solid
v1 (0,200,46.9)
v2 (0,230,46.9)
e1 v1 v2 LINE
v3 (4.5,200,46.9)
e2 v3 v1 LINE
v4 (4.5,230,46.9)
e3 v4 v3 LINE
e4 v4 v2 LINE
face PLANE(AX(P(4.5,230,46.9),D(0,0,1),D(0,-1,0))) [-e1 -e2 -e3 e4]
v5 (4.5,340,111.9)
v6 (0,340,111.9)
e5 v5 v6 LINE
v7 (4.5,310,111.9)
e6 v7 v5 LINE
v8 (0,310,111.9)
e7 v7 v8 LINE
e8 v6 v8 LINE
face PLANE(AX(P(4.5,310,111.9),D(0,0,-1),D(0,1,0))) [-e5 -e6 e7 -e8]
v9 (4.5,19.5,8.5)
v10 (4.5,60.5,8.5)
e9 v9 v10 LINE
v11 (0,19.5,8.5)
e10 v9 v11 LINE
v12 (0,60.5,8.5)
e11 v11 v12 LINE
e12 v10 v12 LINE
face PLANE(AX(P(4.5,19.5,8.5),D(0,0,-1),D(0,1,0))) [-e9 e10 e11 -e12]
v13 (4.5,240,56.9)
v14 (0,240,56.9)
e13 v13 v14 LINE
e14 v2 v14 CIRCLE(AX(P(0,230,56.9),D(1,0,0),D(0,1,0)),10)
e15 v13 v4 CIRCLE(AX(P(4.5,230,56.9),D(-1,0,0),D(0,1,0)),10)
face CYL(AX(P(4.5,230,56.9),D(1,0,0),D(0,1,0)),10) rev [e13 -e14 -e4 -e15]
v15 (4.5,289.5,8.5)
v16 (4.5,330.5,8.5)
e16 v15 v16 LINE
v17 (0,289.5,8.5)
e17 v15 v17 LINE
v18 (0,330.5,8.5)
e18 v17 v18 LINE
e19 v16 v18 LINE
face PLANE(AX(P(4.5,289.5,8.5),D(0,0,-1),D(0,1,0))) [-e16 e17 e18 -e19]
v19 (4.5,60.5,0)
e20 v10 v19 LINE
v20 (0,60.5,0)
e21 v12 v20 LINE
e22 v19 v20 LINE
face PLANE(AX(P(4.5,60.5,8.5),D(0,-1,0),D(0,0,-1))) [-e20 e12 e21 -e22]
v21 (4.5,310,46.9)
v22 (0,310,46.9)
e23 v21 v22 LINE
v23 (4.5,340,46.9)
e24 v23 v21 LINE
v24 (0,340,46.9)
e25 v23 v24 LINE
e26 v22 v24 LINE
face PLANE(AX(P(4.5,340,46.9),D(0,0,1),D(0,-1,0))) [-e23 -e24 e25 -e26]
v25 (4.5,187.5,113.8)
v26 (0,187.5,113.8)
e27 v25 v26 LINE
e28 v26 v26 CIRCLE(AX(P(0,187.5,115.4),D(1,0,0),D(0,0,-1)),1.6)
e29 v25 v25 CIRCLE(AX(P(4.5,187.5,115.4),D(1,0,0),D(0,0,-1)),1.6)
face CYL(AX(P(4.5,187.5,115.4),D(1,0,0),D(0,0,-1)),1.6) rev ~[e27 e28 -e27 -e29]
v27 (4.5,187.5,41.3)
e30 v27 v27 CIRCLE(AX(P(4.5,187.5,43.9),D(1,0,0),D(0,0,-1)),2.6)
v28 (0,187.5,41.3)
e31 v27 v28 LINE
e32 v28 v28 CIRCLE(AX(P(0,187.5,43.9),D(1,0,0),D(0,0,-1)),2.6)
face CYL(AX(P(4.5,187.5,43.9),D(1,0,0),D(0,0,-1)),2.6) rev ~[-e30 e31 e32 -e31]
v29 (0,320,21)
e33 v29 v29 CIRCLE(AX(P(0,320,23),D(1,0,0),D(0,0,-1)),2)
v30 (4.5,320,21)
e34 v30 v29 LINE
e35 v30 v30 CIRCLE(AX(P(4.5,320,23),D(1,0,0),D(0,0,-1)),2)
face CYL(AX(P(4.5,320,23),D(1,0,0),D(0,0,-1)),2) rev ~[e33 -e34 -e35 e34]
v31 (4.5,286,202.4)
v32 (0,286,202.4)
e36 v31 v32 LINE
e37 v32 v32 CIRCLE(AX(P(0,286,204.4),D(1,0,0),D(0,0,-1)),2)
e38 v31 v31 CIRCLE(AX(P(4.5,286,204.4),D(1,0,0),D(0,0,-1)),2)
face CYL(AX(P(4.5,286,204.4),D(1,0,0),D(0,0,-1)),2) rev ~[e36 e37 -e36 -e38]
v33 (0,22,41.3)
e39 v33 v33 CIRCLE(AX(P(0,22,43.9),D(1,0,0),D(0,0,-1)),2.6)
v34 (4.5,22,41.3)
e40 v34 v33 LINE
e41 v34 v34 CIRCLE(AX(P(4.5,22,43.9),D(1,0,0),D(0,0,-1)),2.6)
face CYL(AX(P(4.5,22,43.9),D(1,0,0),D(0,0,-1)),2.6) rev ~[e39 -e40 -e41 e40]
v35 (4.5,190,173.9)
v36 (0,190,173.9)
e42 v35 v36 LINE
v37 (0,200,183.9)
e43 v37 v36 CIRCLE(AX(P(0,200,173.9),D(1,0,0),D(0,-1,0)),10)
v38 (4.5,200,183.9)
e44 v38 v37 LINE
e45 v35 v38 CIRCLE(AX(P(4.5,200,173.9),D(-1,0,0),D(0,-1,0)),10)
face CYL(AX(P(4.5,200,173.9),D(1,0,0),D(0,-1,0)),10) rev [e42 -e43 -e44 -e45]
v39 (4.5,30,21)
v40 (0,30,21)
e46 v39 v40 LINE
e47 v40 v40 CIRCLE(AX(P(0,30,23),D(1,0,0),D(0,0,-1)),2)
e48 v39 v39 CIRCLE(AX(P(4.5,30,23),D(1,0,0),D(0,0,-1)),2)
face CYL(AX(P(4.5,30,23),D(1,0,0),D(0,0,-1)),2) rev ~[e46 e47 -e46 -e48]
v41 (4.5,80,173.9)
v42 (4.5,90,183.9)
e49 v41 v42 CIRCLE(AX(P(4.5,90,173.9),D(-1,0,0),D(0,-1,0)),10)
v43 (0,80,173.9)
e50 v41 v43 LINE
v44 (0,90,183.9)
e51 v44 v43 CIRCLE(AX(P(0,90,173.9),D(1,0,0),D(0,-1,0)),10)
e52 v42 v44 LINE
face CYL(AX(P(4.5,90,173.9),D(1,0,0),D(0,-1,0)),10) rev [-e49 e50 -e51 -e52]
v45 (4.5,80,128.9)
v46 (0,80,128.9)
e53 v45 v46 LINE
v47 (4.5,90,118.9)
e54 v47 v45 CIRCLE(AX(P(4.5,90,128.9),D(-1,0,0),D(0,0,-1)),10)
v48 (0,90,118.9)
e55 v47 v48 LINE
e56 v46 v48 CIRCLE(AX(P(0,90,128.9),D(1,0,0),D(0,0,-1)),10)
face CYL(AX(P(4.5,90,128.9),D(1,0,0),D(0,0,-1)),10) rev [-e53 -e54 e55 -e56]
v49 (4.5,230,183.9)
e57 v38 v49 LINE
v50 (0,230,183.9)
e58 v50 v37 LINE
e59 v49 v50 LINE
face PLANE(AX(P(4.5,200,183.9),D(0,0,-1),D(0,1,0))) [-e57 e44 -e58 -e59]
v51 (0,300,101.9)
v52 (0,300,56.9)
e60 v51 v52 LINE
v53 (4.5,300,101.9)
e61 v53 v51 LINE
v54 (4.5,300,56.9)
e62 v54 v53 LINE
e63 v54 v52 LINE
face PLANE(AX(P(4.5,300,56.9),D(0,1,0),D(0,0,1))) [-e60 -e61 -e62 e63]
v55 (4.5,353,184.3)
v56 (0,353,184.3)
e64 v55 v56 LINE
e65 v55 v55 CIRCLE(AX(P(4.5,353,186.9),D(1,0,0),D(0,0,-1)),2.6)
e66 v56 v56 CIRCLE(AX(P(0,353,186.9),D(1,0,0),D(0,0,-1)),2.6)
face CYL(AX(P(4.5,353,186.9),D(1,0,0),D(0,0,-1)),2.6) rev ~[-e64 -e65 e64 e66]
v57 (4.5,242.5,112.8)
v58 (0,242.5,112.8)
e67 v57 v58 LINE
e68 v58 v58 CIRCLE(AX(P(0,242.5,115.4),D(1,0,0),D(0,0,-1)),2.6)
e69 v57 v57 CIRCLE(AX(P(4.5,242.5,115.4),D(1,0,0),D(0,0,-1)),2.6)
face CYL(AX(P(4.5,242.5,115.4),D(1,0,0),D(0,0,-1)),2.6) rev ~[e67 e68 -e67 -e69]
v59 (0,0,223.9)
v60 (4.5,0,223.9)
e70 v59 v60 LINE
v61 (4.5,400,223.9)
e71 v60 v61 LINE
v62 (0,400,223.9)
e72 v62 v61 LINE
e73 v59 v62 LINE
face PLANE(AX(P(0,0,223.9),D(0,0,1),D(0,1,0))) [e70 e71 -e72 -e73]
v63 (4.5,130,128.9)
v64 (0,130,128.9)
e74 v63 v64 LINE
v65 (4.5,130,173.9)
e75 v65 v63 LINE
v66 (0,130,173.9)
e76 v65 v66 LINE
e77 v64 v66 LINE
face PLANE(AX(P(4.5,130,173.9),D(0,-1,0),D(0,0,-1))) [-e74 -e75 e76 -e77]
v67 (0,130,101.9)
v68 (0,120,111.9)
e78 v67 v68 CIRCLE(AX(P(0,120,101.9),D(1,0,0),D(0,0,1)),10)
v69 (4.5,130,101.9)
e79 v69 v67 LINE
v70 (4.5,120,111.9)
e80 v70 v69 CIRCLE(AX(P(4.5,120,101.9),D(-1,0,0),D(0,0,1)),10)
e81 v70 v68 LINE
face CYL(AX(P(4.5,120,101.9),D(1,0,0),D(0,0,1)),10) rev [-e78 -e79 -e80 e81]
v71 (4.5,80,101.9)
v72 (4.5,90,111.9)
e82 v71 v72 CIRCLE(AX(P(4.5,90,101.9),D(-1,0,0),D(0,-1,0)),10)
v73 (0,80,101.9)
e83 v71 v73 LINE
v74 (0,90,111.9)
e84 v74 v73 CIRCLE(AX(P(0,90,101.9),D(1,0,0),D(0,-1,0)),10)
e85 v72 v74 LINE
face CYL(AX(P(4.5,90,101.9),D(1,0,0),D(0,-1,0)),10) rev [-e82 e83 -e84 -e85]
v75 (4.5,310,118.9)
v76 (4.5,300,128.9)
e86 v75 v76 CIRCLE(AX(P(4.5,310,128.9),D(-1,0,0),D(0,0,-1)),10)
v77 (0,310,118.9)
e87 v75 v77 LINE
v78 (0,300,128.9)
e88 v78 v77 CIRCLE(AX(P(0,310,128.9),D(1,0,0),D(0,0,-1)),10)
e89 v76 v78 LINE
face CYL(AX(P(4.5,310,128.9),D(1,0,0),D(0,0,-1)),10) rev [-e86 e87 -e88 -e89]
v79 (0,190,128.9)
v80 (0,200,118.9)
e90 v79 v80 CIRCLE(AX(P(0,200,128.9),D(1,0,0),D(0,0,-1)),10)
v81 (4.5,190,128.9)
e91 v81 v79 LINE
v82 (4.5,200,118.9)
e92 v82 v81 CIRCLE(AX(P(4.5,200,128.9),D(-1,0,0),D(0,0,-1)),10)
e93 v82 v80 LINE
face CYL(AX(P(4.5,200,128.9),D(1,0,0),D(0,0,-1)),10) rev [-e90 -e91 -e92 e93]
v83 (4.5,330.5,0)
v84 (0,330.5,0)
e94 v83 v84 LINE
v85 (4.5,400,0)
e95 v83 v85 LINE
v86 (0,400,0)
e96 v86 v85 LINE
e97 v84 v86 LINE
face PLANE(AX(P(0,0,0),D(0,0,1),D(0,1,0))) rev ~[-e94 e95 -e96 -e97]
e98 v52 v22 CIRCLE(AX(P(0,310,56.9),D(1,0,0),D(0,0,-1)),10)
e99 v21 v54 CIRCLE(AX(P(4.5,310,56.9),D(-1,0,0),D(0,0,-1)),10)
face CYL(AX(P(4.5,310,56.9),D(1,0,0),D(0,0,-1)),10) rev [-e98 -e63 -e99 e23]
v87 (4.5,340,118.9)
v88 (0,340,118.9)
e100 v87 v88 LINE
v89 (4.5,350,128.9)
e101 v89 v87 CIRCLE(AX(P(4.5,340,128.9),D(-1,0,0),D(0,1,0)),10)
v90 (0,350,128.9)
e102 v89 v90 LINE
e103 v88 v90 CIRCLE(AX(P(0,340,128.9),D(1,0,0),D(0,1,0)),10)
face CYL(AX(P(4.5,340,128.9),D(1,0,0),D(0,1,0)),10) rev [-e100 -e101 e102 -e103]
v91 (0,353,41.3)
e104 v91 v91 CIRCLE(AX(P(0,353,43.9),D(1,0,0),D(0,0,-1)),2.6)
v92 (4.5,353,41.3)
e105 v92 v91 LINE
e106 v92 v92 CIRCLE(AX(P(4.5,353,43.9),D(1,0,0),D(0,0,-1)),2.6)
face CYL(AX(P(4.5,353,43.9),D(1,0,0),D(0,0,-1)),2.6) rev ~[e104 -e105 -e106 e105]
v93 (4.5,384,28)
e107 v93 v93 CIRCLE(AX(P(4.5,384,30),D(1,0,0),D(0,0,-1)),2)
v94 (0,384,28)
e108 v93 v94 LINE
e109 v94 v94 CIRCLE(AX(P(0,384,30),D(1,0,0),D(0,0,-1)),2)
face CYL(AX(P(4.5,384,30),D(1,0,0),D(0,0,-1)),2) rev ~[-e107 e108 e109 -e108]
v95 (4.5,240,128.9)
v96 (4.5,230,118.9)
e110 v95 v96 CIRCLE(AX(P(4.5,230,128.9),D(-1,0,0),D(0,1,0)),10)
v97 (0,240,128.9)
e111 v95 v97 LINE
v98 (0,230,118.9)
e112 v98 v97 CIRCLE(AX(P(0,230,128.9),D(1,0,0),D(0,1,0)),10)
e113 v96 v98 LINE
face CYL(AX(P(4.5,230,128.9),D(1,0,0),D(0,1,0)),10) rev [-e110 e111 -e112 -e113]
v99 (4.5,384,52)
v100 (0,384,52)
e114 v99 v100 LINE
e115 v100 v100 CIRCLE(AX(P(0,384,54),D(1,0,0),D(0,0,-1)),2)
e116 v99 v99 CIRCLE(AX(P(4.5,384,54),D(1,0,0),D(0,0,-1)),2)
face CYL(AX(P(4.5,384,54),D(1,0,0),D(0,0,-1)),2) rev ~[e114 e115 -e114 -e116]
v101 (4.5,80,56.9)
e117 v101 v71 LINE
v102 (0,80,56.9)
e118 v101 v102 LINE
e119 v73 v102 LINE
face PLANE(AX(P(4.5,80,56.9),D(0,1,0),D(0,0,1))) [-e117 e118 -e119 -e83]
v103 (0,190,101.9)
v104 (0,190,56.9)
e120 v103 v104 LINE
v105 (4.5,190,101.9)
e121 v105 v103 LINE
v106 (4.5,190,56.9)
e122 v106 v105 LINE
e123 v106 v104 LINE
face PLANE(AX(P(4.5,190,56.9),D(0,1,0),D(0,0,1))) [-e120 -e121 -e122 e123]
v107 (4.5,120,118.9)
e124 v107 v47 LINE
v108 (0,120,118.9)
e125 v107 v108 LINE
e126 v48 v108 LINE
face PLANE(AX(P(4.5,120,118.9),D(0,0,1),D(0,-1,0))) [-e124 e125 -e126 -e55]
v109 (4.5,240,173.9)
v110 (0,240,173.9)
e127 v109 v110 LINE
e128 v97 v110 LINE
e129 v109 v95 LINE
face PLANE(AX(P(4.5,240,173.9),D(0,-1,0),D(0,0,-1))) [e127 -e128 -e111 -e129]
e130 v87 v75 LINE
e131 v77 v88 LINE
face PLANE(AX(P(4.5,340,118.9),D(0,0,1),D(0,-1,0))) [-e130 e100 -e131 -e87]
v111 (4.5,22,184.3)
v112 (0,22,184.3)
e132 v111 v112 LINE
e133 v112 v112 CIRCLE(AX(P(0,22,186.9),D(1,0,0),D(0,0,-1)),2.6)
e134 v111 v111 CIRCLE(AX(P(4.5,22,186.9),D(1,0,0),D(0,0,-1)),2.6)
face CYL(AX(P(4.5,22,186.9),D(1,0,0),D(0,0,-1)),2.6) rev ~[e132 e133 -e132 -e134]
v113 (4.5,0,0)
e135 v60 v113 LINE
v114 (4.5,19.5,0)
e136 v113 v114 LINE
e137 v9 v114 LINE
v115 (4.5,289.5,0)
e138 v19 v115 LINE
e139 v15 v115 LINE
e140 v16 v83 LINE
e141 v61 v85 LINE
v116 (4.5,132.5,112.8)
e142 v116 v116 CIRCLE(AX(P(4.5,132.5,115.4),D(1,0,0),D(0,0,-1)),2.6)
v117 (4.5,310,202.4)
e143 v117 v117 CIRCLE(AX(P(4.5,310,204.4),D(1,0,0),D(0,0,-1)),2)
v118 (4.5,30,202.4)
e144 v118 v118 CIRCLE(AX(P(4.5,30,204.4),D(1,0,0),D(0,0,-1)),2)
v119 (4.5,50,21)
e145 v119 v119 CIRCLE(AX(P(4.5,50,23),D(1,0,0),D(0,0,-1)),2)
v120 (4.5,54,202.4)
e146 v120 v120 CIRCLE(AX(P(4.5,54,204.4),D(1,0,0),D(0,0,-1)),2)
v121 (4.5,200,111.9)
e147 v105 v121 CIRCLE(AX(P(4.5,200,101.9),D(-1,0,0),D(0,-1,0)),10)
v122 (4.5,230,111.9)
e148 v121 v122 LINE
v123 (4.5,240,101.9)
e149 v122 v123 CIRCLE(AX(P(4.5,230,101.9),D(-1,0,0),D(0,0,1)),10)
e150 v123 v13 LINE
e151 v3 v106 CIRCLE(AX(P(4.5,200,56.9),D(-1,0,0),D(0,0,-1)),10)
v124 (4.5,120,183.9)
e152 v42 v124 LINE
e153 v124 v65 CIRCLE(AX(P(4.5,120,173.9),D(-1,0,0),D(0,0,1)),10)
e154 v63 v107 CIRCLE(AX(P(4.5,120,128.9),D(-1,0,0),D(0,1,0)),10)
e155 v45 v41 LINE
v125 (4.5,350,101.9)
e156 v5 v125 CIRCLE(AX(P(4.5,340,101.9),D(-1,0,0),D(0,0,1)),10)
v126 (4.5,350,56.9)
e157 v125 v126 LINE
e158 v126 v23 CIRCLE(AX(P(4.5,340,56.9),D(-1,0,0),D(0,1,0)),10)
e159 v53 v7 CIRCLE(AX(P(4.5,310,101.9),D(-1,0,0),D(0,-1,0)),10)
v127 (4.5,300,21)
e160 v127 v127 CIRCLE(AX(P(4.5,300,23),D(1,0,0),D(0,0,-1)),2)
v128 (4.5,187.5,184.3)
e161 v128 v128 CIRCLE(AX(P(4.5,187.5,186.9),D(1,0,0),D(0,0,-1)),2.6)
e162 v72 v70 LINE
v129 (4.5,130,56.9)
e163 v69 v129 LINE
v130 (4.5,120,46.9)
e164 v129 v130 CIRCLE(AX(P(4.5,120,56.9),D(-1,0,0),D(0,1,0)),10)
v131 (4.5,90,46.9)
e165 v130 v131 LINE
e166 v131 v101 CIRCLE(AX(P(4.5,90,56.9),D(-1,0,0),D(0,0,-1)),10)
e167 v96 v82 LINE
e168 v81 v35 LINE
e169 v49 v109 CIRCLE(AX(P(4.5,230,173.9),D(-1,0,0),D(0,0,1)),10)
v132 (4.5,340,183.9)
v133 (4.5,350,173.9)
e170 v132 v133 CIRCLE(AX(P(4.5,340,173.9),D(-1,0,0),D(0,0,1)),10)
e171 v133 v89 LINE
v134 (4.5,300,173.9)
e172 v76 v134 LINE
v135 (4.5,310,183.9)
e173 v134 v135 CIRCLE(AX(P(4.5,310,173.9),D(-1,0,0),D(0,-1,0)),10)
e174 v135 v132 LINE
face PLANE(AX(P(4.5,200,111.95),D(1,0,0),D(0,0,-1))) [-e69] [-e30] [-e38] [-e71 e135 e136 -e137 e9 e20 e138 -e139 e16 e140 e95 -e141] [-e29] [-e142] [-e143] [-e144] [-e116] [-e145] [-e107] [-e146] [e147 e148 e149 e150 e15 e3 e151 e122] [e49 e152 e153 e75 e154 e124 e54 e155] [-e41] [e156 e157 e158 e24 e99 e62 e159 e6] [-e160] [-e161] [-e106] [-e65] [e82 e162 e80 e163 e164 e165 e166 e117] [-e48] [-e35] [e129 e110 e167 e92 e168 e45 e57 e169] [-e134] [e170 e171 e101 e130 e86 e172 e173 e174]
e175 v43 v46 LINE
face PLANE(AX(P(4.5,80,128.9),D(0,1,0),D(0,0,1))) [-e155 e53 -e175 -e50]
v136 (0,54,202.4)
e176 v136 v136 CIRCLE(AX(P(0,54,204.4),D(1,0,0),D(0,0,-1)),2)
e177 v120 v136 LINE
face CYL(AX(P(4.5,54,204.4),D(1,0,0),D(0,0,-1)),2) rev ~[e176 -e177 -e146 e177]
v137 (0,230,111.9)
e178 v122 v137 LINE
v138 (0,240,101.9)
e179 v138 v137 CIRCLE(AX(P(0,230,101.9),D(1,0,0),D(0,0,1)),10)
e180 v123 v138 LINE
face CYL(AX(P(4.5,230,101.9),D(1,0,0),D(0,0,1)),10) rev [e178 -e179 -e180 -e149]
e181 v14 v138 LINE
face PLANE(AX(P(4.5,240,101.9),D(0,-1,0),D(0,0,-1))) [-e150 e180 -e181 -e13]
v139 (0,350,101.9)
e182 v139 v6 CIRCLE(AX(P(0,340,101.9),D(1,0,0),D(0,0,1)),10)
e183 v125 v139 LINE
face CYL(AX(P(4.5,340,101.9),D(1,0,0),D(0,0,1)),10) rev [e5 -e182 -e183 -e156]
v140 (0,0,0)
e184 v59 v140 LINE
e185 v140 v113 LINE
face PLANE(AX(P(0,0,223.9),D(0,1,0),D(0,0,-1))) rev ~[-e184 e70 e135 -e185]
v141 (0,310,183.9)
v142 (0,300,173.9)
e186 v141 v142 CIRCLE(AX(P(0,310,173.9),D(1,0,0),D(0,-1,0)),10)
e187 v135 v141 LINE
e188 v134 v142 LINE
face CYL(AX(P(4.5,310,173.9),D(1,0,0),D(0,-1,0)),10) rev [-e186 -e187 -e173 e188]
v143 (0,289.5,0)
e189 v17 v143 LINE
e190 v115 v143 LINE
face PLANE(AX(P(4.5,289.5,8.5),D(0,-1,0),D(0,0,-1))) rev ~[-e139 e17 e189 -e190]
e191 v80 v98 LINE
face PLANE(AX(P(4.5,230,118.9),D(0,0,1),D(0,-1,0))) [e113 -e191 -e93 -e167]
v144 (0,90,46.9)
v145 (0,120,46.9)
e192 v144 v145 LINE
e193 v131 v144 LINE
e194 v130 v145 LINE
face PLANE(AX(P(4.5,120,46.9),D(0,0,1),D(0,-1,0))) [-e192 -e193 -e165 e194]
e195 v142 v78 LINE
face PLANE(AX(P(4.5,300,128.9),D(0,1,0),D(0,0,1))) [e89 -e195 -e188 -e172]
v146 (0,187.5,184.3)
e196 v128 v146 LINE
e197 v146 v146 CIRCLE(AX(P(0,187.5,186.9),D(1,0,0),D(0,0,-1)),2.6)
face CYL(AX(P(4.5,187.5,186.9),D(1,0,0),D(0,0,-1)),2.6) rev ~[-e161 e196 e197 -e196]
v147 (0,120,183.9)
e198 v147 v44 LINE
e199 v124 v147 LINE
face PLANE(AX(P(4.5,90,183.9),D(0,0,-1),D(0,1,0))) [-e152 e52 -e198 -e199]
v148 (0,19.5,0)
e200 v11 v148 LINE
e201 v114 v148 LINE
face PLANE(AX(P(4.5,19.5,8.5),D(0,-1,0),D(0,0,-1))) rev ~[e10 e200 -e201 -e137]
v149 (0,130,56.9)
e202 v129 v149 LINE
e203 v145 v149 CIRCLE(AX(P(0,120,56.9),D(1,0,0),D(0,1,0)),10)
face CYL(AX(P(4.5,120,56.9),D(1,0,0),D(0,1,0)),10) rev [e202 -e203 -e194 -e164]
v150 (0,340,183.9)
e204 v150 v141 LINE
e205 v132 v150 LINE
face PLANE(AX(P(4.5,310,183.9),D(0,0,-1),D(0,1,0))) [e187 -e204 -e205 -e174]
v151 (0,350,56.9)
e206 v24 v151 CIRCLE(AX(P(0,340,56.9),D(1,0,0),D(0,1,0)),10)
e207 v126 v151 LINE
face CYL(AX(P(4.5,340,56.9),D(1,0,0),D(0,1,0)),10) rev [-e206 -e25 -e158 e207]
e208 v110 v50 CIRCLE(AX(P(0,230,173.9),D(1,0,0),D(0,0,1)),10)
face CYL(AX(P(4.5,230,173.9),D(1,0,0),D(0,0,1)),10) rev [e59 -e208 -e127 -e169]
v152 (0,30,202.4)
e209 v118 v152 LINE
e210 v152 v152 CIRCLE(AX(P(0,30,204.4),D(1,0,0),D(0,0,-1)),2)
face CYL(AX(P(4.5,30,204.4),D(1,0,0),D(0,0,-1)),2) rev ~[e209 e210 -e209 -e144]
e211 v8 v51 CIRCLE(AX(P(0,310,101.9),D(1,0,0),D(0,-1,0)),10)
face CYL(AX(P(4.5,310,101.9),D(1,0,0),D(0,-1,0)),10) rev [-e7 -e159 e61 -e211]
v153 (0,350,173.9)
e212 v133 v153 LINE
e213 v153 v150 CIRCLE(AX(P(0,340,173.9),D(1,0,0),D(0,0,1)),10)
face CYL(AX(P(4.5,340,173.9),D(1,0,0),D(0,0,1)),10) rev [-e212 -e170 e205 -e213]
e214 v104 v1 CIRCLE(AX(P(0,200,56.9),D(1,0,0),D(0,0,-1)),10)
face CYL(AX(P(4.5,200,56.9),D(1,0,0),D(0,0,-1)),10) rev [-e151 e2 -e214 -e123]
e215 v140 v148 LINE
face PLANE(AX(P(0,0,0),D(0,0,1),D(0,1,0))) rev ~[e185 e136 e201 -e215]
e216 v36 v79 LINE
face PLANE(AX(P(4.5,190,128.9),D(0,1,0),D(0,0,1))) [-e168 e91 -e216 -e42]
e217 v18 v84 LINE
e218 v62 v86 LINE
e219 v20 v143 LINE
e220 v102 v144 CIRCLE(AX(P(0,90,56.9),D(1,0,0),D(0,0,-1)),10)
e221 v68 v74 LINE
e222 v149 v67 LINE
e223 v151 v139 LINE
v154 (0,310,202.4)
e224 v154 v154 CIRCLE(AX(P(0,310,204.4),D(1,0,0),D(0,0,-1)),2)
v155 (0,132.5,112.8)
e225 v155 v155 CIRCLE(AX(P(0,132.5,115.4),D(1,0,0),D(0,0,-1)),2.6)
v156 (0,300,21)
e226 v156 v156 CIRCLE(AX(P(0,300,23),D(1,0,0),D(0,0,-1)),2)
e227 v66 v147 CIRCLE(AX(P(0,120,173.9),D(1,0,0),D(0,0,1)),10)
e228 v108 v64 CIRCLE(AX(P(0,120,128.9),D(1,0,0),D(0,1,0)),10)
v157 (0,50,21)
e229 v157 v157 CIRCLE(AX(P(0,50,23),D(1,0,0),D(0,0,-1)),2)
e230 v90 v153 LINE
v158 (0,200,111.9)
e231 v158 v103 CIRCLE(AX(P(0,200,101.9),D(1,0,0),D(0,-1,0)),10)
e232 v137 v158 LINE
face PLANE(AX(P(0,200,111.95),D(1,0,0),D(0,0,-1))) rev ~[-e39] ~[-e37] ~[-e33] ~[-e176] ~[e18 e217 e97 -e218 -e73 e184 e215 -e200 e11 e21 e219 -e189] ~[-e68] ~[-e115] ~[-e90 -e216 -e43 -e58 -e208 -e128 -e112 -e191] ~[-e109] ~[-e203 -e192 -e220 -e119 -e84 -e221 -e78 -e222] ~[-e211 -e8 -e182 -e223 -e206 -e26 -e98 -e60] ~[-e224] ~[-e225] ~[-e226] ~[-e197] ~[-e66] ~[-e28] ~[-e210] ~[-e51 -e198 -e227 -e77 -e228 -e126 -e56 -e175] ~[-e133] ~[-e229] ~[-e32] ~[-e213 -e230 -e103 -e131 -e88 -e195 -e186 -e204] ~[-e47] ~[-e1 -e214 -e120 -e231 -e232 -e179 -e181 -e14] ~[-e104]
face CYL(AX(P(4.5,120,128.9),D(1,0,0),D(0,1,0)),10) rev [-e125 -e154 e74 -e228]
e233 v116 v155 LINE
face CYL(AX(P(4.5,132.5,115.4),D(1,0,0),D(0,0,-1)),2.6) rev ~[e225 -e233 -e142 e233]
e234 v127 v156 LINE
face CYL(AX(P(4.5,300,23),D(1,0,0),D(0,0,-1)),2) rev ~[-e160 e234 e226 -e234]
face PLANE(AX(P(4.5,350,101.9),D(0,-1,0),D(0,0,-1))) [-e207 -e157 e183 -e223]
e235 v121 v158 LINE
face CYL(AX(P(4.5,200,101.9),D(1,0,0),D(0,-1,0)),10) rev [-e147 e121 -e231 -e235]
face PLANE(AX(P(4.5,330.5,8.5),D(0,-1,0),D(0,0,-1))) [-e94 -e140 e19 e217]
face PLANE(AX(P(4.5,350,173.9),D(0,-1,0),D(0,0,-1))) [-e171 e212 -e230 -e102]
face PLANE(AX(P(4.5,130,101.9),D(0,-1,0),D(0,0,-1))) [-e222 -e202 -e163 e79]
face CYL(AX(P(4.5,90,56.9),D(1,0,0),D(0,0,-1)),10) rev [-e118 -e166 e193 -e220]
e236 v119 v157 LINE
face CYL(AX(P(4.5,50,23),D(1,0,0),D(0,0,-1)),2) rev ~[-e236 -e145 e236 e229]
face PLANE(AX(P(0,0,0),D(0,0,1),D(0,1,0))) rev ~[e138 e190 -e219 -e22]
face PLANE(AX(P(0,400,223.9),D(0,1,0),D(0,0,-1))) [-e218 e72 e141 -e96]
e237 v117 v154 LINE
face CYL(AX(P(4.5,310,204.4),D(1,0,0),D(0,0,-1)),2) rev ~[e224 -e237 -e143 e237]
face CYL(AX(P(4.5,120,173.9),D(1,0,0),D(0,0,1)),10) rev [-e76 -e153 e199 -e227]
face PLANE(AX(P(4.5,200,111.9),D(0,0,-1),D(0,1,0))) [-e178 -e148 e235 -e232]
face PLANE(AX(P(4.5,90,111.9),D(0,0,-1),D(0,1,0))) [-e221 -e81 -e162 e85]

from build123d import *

# Parameters (mm, degrees)
SKETCH_1_W          = 223.9
SKETCH_1_H          = 400
EXTRUDE_1_DEPTH     = 4.5
SKETCH_2_R          = 2
SKETCH_2_W          = 8.5
SKETCH_2_H          = 41
CUT_EXTRUDE_1_DEPTH = 10
CUT_EXTRUDE_2_REACH = 460.423
SKETCH_3_R          = 2.6
SKETCH_3_R_2        = 1.6


with BuildPart() as part:
    # 草图1 → 凸台-拉伸1 (new body)
    with BuildSketch(Plane(origin=(0, 0, 0), x_dir=(0, 0, -1), z_dir=(1, 0, 0))):
        with Locations((-111.95, 200)):
            Rectangle(SKETCH_1_W, SKETCH_1_H)
    extrude(amount=EXTRUDE_1_DEPTH)

    # 草图2 → 切除-拉伸1 (cut)
    with BuildSketch(Plane(origin=(4.5, 0, 0), x_dir=(0, 0, -1), z_dir=(1, 0, 0))):
        with Locations((-204.4, 310)):
            Circle(SKETCH_2_R)
        with Locations((-204.4, 286)):
            Circle(SKETCH_2_R)
        with Locations((-204.4, 54)):
            Circle(SKETCH_2_R)
        with Locations((-204.4, 30)):
            Circle(SKETCH_2_R)
        with Locations((-54, 384)):
            Circle(SKETCH_2_R)
        with Locations((-30, 384)):
            Circle(SKETCH_2_R)
        with Locations((-23, 320)):
            Circle(SKETCH_2_R)
        with Locations((-23, 300)):
            Circle(SKETCH_2_R)
        with Locations((-23, 50)):
            Circle(SKETCH_2_R)
        with Locations((-23, 30)):
            Circle(SKETCH_2_R)
        with Locations((-4.25, 310)):
            Rectangle(SKETCH_2_W, SKETCH_2_H)
        with Locations((-4.25, 40)):
            Rectangle(SKETCH_2_W, SKETCH_2_H)
    extrude(amount=-CUT_EXTRUDE_1_DEPTH, mode=Mode.SUBTRACT)

    # 草图3 → 切除-拉伸2 (cut, up to next)
    with BuildSketch(Plane(origin=(4.5, 0, 0), x_dir=(0, 0, -1), z_dir=(1, 0, 0)), mode=Mode.PRIVATE) as cut_extrude_2_sk1:
        with Locations((-43.9, 22)):
            Circle(SKETCH_3_R)
    cut_extrude_2_tool1 = extrude(cut_extrude_2_sk1.sketch, amount=-CUT_EXTRUDE_2_REACH, mode=Mode.PRIVATE) & part.part
    # 草图3 → 切除-拉伸2 (cut, up to next)
    with BuildSketch(Plane(origin=(4.5, 0, 0), x_dir=(0, 0, -1), z_dir=(1, 0, 0)), mode=Mode.PRIVATE) as cut_extrude_2_sk2:
        with Locations((-186.9, 22)):
            Circle(SKETCH_3_R)
    cut_extrude_2_tool2 = extrude(cut_extrude_2_sk2.sketch, amount=-CUT_EXTRUDE_2_REACH, mode=Mode.PRIVATE) & part.part
    # 草图3 → 切除-拉伸2 (cut, up to next)
    with BuildSketch(Plane(origin=(4.5, 0, 0), x_dir=(0, 0, -1), z_dir=(1, 0, 0)), mode=Mode.PRIVATE) as cut_extrude_2_sk3:
        with Locations((-43.9, 187.5)):
            Circle(SKETCH_3_R)
    cut_extrude_2_tool3 = extrude(cut_extrude_2_sk3.sketch, amount=-CUT_EXTRUDE_2_REACH, mode=Mode.PRIVATE) & part.part
    # 草图3 → 切除-拉伸2 (cut, up to next)
    with BuildSketch(Plane(origin=(4.5, 0, 0), x_dir=(0, 0, -1), z_dir=(1, 0, 0)), mode=Mode.PRIVATE) as cut_extrude_2_sk4:
        with Locations((-186.9, 187.5)):
            Circle(SKETCH_3_R)
    cut_extrude_2_tool4 = extrude(cut_extrude_2_sk4.sketch, amount=-CUT_EXTRUDE_2_REACH, mode=Mode.PRIVATE) & part.part
    # 草图3 → 切除-拉伸2 (cut, up to next)
    with BuildSketch(Plane(origin=(4.5, 0, 0), x_dir=(0, 0, -1), z_dir=(1, 0, 0)), mode=Mode.PRIVATE) as cut_extrude_2_sk5:
        with Locations((-186.9, 353)):
            Circle(SKETCH_3_R)
    cut_extrude_2_tool5 = extrude(cut_extrude_2_sk5.sketch, amount=-CUT_EXTRUDE_2_REACH, mode=Mode.PRIVATE) & part.part
    # 草图3 → 切除-拉伸2 (cut, up to next)
    with BuildSketch(Plane(origin=(4.5, 0, 0), x_dir=(0, 0, -1), z_dir=(1, 0, 0)), mode=Mode.PRIVATE) as cut_extrude_2_sk6:
        with Locations((-43.9, 353)):
            Circle(SKETCH_3_R)
    cut_extrude_2_tool6 = extrude(cut_extrude_2_sk6.sketch, amount=-CUT_EXTRUDE_2_REACH, mode=Mode.PRIVATE) & part.part
    # 草图3 → 切除-拉伸2 (cut, up to next)
    with BuildSketch(Plane(origin=(4.5, 0, 0), x_dir=(0, 0, -1), z_dir=(1, 0, 0)), mode=Mode.PRIVATE) as cut_extrude_2_sk7:
        with Locations((-115.4, 187.5)):
            Circle(SKETCH_3_R_2)
    cut_extrude_2_tool7 = extrude(cut_extrude_2_sk7.sketch, amount=-CUT_EXTRUDE_2_REACH, mode=Mode.PRIVATE) & part.part
    # 草图3 → 切除-拉伸2 (cut, up to next)
    with BuildSketch(Plane(origin=(4.5, 0, 0), x_dir=(0, 0, -1), z_dir=(1, 0, 0)), mode=Mode.PRIVATE) as cut_extrude_2_sk8:
        with Locations((-115.4, 242.5)):
            Circle(SKETCH_3_R)
    cut_extrude_2_tool8 = extrude(cut_extrude_2_sk8.sketch, amount=-CUT_EXTRUDE_2_REACH, mode=Mode.PRIVATE) & part.part
    # 草图3 → 切除-拉伸2 (cut, up to next)
    with BuildSketch(Plane(origin=(4.5, 0, 0), x_dir=(0, 0, -1), z_dir=(1, 0, 0)), mode=Mode.PRIVATE) as cut_extrude_2_sk9:
        with Locations((-115.4, 132.5)):
            Circle(SKETCH_3_R)
    cut_extrude_2_tool9 = extrude(cut_extrude_2_sk9.sketch, amount=-CUT_EXTRUDE_2_REACH, mode=Mode.PRIVATE) & part.part
    # 草图3 → 切除-拉伸2 (cut, up to next)
    with BuildSketch(Plane(origin=(4.5, 0, 0), x_dir=(0, 0, -1), z_dir=(1, 0, 0)), mode=Mode.PRIVATE) as cut_extrude_2_sk10:
        with BuildLine():
            Line((-173.9, 130), (-128.9, 130))
            ThreePointArc((-128.9, 130), (-121.828932188, 127.071067812), (-118.9, 120))
            Line((-118.9, 120), (-118.9, 90))
            ThreePointArc((-118.9, 90), (-121.828932188, 82.928932188), (-128.9, 80))
            Line((-128.9, 80), (-173.9, 80))
            ThreePointArc((-173.9, 80), (-180.971067812, 82.928932188), (-183.9, 90))
            Line((-183.9, 90), (-183.9, 120))
            ThreePointArc((-183.9, 120), (-180.971067812, 127.071067812), (-173.9, 130))
        make_face()
    cut_extrude_2_tool10 = extrude(cut_extrude_2_sk10.sketch, amount=-CUT_EXTRUDE_2_REACH, mode=Mode.PRIVATE) & part.part
    # 草图3 → 切除-拉伸2 (cut, up to next)
    with BuildSketch(Plane(origin=(4.5, 0, 0), x_dir=(0, 0, -1), z_dir=(1, 0, 0)), mode=Mode.PRIVATE) as cut_extrude_2_sk11:
        with BuildLine():
            Line((-101.9, 130), (-56.9, 130))
            ThreePointArc((-56.9, 130), (-49.828932188, 127.071067812), (-46.9, 120))
            Line((-46.9, 120), (-46.9, 90))
            ThreePointArc((-46.9, 90), (-49.828932188, 82.928932188), (-56.9, 80))
            Line((-56.9, 80), (-101.9, 80))
            ThreePointArc((-101.9, 80), (-108.971067812, 82.928932188), (-111.9, 90))
            Line((-111.9, 90), (-111.9, 120))
            ThreePointArc((-111.9, 120), (-108.971067812, 127.071067812), (-101.9, 130))
        make_face()
    cut_extrude_2_tool11 = extrude(cut_extrude_2_sk11.sketch, amount=-CUT_EXTRUDE_2_REACH, mode=Mode.PRIVATE) & part.part
    # 草图3 → 切除-拉伸2 (cut, up to next)
    with BuildSketch(Plane(origin=(4.5, 0, 0), x_dir=(0, 0, -1), z_dir=(1, 0, 0)), mode=Mode.PRIVATE) as cut_extrude_2_sk12:
        with BuildLine():
            Line((-101.9, 240), (-56.9, 240))
            ThreePointArc((-56.9, 240), (-49.828932188, 237.071067812), (-46.9, 230))
            Line((-46.9, 230), (-46.9, 200))
            ThreePointArc((-46.9, 200), (-49.828932188, 192.928932188), (-56.9, 190))
            Line((-56.9, 190), (-101.9, 190))
            ThreePointArc((-101.9, 190), (-108.971067812, 192.928932188), (-111.9, 200))
            Line((-111.9, 200), (-111.9, 230))
            ThreePointArc((-111.9, 230), (-108.971067812, 237.071067812), (-101.9, 240))
        make_face()
    cut_extrude_2_tool12 = extrude(cut_extrude_2_sk12.sketch, amount=-CUT_EXTRUDE_2_REACH, mode=Mode.PRIVATE) & part.part
    # 草图3 → 切除-拉伸2 (cut, up to next)
    with BuildSketch(Plane(origin=(4.5, 0, 0), x_dir=(0, 0, -1), z_dir=(1, 0, 0)), mode=Mode.PRIVATE) as cut_extrude_2_sk13:
        with BuildLine():
            Line((-101.9, 350), (-56.9, 350))
            ThreePointArc((-56.9, 350), (-49.828932188, 347.071067812), (-46.9, 340))
            Line((-46.9, 340), (-46.9, 310))
            ThreePointArc((-46.9, 310), (-49.828932188, 302.928932188), (-56.9, 300))
            Line((-56.9, 300), (-101.9, 300))
            ThreePointArc((-101.9, 300), (-108.971067812, 302.928932188), (-111.9, 310))
            Line((-111.9, 310), (-111.9, 340))
            ThreePointArc((-111.9, 340), (-108.971067812, 347.071067812), (-101.9, 350))
        make_face()
    cut_extrude_2_tool13 = extrude(cut_extrude_2_sk13.sketch, amount=-CUT_EXTRUDE_2_REACH, mode=Mode.PRIVATE) & part.part
    # 草图3 → 切除-拉伸2 (cut, up to next)
    with BuildSketch(Plane(origin=(4.5, 0, 0), x_dir=(0, 0, -1), z_dir=(1, 0, 0)), mode=Mode.PRIVATE) as cut_extrude_2_sk14:
        with BuildLine():
            Line((-173.9, 240), (-128.9, 240))
            ThreePointArc((-128.9, 240), (-121.828932188, 237.071067812), (-118.9, 230))
            Line((-118.9, 230), (-118.9, 200))
            ThreePointArc((-118.9, 200), (-121.828932188, 192.928932188), (-128.9, 190))
            Line((-128.9, 190), (-173.9, 190))
            ThreePointArc((-173.9, 190), (-180.971067812, 192.928932188), (-183.9, 200))
            Line((-183.9, 200), (-183.9, 230))
            ThreePointArc((-183.9, 230), (-180.971067812, 237.071067812), (-173.9, 240))
        make_face()
    cut_extrude_2_tool14 = extrude(cut_extrude_2_sk14.sketch, amount=-CUT_EXTRUDE_2_REACH, mode=Mode.PRIVATE) & part.part
    # 草图3 → 切除-拉伸2 (cut, up to next)
    with BuildSketch(Plane(origin=(4.5, 0, 0), x_dir=(0, 0, -1), z_dir=(1, 0, 0)), mode=Mode.PRIVATE) as cut_extrude_2_sk15:
        with BuildLine():
            Line((-173.9, 350), (-128.9, 350))
            ThreePointArc((-128.9, 350), (-121.828932188, 347.071067812), (-118.9, 340))
            Line((-118.9, 340), (-118.9, 310))
            ThreePointArc((-118.9, 310), (-121.828932188, 302.928932188), (-128.9, 300))
            Line((-128.9, 300), (-173.9, 300))
            ThreePointArc((-173.9, 300), (-180.971067812, 302.928932188), (-183.9, 310))
            Line((-183.9, 310), (-183.9, 340))
            ThreePointArc((-183.9, 340), (-180.971067812, 347.071067812), (-173.9, 350))
        make_face()
    cut_extrude_2_tool15 = extrude(cut_extrude_2_sk15.sketch, amount=-CUT_EXTRUDE_2_REACH, mode=Mode.PRIVATE) & part.part
    add(cut_extrude_2_tool1.solids().sort_by_distance((4.5, 22, 43.9))[0], mode=Mode.SUBTRACT)
    add(cut_extrude_2_tool2.solids().sort_by_distance((4.5, 22, 186.9))[0], mode=Mode.SUBTRACT)
    add(cut_extrude_2_tool3.solids().sort_by_distance((4.5, 187.5, 43.9))[0], mode=Mode.SUBTRACT)
    add(cut_extrude_2_tool4.solids().sort_by_distance((4.5, 187.5, 186.9))[0], mode=Mode.SUBTRACT)
    add(cut_extrude_2_tool5.solids().sort_by_distance((4.5, 353, 186.9))[0], mode=Mode.SUBTRACT)
    add(cut_extrude_2_tool6.solids().sort_by_distance((4.5, 353, 43.9))[0], mode=Mode.SUBTRACT)
    add(cut_extrude_2_tool7.solids().sort_by_distance((4.5, 187.5, 115.4))[0], mode=Mode.SUBTRACT)
    add(cut_extrude_2_tool8.solids().sort_by_distance((4.5, 242.5, 115.4))[0], mode=Mode.SUBTRACT)
    add(cut_extrude_2_tool9.solids().sort_by_distance((4.5, 132.5, 115.4))[0], mode=Mode.SUBTRACT)
    add(cut_extrude_2_tool10.solids().sort_by_distance((4.5, 105, 151.4))[0], mode=Mode.SUBTRACT)
    add(cut_extrude_2_tool11.solids().sort_by_distance((4.5, 105, 79.4))[0], mode=Mode.SUBTRACT)
    add(cut_extrude_2_tool12.solids().sort_by_distance((4.5, 215, 79.4))[0], mode=Mode.SUBTRACT)
    add(cut_extrude_2_tool13.solids().sort_by_distance((4.5, 325, 79.4))[0], mode=Mode.SUBTRACT)
    add(cut_extrude_2_tool14.solids().sort_by_distance((4.5, 215, 151.4))[0], mode=Mode.SUBTRACT)
    add(cut_extrude_2_tool15.solids().sort_by_distance((4.5, 325, 151.4))[0], mode=Mode.SUBTRACT)


solid = part.part
